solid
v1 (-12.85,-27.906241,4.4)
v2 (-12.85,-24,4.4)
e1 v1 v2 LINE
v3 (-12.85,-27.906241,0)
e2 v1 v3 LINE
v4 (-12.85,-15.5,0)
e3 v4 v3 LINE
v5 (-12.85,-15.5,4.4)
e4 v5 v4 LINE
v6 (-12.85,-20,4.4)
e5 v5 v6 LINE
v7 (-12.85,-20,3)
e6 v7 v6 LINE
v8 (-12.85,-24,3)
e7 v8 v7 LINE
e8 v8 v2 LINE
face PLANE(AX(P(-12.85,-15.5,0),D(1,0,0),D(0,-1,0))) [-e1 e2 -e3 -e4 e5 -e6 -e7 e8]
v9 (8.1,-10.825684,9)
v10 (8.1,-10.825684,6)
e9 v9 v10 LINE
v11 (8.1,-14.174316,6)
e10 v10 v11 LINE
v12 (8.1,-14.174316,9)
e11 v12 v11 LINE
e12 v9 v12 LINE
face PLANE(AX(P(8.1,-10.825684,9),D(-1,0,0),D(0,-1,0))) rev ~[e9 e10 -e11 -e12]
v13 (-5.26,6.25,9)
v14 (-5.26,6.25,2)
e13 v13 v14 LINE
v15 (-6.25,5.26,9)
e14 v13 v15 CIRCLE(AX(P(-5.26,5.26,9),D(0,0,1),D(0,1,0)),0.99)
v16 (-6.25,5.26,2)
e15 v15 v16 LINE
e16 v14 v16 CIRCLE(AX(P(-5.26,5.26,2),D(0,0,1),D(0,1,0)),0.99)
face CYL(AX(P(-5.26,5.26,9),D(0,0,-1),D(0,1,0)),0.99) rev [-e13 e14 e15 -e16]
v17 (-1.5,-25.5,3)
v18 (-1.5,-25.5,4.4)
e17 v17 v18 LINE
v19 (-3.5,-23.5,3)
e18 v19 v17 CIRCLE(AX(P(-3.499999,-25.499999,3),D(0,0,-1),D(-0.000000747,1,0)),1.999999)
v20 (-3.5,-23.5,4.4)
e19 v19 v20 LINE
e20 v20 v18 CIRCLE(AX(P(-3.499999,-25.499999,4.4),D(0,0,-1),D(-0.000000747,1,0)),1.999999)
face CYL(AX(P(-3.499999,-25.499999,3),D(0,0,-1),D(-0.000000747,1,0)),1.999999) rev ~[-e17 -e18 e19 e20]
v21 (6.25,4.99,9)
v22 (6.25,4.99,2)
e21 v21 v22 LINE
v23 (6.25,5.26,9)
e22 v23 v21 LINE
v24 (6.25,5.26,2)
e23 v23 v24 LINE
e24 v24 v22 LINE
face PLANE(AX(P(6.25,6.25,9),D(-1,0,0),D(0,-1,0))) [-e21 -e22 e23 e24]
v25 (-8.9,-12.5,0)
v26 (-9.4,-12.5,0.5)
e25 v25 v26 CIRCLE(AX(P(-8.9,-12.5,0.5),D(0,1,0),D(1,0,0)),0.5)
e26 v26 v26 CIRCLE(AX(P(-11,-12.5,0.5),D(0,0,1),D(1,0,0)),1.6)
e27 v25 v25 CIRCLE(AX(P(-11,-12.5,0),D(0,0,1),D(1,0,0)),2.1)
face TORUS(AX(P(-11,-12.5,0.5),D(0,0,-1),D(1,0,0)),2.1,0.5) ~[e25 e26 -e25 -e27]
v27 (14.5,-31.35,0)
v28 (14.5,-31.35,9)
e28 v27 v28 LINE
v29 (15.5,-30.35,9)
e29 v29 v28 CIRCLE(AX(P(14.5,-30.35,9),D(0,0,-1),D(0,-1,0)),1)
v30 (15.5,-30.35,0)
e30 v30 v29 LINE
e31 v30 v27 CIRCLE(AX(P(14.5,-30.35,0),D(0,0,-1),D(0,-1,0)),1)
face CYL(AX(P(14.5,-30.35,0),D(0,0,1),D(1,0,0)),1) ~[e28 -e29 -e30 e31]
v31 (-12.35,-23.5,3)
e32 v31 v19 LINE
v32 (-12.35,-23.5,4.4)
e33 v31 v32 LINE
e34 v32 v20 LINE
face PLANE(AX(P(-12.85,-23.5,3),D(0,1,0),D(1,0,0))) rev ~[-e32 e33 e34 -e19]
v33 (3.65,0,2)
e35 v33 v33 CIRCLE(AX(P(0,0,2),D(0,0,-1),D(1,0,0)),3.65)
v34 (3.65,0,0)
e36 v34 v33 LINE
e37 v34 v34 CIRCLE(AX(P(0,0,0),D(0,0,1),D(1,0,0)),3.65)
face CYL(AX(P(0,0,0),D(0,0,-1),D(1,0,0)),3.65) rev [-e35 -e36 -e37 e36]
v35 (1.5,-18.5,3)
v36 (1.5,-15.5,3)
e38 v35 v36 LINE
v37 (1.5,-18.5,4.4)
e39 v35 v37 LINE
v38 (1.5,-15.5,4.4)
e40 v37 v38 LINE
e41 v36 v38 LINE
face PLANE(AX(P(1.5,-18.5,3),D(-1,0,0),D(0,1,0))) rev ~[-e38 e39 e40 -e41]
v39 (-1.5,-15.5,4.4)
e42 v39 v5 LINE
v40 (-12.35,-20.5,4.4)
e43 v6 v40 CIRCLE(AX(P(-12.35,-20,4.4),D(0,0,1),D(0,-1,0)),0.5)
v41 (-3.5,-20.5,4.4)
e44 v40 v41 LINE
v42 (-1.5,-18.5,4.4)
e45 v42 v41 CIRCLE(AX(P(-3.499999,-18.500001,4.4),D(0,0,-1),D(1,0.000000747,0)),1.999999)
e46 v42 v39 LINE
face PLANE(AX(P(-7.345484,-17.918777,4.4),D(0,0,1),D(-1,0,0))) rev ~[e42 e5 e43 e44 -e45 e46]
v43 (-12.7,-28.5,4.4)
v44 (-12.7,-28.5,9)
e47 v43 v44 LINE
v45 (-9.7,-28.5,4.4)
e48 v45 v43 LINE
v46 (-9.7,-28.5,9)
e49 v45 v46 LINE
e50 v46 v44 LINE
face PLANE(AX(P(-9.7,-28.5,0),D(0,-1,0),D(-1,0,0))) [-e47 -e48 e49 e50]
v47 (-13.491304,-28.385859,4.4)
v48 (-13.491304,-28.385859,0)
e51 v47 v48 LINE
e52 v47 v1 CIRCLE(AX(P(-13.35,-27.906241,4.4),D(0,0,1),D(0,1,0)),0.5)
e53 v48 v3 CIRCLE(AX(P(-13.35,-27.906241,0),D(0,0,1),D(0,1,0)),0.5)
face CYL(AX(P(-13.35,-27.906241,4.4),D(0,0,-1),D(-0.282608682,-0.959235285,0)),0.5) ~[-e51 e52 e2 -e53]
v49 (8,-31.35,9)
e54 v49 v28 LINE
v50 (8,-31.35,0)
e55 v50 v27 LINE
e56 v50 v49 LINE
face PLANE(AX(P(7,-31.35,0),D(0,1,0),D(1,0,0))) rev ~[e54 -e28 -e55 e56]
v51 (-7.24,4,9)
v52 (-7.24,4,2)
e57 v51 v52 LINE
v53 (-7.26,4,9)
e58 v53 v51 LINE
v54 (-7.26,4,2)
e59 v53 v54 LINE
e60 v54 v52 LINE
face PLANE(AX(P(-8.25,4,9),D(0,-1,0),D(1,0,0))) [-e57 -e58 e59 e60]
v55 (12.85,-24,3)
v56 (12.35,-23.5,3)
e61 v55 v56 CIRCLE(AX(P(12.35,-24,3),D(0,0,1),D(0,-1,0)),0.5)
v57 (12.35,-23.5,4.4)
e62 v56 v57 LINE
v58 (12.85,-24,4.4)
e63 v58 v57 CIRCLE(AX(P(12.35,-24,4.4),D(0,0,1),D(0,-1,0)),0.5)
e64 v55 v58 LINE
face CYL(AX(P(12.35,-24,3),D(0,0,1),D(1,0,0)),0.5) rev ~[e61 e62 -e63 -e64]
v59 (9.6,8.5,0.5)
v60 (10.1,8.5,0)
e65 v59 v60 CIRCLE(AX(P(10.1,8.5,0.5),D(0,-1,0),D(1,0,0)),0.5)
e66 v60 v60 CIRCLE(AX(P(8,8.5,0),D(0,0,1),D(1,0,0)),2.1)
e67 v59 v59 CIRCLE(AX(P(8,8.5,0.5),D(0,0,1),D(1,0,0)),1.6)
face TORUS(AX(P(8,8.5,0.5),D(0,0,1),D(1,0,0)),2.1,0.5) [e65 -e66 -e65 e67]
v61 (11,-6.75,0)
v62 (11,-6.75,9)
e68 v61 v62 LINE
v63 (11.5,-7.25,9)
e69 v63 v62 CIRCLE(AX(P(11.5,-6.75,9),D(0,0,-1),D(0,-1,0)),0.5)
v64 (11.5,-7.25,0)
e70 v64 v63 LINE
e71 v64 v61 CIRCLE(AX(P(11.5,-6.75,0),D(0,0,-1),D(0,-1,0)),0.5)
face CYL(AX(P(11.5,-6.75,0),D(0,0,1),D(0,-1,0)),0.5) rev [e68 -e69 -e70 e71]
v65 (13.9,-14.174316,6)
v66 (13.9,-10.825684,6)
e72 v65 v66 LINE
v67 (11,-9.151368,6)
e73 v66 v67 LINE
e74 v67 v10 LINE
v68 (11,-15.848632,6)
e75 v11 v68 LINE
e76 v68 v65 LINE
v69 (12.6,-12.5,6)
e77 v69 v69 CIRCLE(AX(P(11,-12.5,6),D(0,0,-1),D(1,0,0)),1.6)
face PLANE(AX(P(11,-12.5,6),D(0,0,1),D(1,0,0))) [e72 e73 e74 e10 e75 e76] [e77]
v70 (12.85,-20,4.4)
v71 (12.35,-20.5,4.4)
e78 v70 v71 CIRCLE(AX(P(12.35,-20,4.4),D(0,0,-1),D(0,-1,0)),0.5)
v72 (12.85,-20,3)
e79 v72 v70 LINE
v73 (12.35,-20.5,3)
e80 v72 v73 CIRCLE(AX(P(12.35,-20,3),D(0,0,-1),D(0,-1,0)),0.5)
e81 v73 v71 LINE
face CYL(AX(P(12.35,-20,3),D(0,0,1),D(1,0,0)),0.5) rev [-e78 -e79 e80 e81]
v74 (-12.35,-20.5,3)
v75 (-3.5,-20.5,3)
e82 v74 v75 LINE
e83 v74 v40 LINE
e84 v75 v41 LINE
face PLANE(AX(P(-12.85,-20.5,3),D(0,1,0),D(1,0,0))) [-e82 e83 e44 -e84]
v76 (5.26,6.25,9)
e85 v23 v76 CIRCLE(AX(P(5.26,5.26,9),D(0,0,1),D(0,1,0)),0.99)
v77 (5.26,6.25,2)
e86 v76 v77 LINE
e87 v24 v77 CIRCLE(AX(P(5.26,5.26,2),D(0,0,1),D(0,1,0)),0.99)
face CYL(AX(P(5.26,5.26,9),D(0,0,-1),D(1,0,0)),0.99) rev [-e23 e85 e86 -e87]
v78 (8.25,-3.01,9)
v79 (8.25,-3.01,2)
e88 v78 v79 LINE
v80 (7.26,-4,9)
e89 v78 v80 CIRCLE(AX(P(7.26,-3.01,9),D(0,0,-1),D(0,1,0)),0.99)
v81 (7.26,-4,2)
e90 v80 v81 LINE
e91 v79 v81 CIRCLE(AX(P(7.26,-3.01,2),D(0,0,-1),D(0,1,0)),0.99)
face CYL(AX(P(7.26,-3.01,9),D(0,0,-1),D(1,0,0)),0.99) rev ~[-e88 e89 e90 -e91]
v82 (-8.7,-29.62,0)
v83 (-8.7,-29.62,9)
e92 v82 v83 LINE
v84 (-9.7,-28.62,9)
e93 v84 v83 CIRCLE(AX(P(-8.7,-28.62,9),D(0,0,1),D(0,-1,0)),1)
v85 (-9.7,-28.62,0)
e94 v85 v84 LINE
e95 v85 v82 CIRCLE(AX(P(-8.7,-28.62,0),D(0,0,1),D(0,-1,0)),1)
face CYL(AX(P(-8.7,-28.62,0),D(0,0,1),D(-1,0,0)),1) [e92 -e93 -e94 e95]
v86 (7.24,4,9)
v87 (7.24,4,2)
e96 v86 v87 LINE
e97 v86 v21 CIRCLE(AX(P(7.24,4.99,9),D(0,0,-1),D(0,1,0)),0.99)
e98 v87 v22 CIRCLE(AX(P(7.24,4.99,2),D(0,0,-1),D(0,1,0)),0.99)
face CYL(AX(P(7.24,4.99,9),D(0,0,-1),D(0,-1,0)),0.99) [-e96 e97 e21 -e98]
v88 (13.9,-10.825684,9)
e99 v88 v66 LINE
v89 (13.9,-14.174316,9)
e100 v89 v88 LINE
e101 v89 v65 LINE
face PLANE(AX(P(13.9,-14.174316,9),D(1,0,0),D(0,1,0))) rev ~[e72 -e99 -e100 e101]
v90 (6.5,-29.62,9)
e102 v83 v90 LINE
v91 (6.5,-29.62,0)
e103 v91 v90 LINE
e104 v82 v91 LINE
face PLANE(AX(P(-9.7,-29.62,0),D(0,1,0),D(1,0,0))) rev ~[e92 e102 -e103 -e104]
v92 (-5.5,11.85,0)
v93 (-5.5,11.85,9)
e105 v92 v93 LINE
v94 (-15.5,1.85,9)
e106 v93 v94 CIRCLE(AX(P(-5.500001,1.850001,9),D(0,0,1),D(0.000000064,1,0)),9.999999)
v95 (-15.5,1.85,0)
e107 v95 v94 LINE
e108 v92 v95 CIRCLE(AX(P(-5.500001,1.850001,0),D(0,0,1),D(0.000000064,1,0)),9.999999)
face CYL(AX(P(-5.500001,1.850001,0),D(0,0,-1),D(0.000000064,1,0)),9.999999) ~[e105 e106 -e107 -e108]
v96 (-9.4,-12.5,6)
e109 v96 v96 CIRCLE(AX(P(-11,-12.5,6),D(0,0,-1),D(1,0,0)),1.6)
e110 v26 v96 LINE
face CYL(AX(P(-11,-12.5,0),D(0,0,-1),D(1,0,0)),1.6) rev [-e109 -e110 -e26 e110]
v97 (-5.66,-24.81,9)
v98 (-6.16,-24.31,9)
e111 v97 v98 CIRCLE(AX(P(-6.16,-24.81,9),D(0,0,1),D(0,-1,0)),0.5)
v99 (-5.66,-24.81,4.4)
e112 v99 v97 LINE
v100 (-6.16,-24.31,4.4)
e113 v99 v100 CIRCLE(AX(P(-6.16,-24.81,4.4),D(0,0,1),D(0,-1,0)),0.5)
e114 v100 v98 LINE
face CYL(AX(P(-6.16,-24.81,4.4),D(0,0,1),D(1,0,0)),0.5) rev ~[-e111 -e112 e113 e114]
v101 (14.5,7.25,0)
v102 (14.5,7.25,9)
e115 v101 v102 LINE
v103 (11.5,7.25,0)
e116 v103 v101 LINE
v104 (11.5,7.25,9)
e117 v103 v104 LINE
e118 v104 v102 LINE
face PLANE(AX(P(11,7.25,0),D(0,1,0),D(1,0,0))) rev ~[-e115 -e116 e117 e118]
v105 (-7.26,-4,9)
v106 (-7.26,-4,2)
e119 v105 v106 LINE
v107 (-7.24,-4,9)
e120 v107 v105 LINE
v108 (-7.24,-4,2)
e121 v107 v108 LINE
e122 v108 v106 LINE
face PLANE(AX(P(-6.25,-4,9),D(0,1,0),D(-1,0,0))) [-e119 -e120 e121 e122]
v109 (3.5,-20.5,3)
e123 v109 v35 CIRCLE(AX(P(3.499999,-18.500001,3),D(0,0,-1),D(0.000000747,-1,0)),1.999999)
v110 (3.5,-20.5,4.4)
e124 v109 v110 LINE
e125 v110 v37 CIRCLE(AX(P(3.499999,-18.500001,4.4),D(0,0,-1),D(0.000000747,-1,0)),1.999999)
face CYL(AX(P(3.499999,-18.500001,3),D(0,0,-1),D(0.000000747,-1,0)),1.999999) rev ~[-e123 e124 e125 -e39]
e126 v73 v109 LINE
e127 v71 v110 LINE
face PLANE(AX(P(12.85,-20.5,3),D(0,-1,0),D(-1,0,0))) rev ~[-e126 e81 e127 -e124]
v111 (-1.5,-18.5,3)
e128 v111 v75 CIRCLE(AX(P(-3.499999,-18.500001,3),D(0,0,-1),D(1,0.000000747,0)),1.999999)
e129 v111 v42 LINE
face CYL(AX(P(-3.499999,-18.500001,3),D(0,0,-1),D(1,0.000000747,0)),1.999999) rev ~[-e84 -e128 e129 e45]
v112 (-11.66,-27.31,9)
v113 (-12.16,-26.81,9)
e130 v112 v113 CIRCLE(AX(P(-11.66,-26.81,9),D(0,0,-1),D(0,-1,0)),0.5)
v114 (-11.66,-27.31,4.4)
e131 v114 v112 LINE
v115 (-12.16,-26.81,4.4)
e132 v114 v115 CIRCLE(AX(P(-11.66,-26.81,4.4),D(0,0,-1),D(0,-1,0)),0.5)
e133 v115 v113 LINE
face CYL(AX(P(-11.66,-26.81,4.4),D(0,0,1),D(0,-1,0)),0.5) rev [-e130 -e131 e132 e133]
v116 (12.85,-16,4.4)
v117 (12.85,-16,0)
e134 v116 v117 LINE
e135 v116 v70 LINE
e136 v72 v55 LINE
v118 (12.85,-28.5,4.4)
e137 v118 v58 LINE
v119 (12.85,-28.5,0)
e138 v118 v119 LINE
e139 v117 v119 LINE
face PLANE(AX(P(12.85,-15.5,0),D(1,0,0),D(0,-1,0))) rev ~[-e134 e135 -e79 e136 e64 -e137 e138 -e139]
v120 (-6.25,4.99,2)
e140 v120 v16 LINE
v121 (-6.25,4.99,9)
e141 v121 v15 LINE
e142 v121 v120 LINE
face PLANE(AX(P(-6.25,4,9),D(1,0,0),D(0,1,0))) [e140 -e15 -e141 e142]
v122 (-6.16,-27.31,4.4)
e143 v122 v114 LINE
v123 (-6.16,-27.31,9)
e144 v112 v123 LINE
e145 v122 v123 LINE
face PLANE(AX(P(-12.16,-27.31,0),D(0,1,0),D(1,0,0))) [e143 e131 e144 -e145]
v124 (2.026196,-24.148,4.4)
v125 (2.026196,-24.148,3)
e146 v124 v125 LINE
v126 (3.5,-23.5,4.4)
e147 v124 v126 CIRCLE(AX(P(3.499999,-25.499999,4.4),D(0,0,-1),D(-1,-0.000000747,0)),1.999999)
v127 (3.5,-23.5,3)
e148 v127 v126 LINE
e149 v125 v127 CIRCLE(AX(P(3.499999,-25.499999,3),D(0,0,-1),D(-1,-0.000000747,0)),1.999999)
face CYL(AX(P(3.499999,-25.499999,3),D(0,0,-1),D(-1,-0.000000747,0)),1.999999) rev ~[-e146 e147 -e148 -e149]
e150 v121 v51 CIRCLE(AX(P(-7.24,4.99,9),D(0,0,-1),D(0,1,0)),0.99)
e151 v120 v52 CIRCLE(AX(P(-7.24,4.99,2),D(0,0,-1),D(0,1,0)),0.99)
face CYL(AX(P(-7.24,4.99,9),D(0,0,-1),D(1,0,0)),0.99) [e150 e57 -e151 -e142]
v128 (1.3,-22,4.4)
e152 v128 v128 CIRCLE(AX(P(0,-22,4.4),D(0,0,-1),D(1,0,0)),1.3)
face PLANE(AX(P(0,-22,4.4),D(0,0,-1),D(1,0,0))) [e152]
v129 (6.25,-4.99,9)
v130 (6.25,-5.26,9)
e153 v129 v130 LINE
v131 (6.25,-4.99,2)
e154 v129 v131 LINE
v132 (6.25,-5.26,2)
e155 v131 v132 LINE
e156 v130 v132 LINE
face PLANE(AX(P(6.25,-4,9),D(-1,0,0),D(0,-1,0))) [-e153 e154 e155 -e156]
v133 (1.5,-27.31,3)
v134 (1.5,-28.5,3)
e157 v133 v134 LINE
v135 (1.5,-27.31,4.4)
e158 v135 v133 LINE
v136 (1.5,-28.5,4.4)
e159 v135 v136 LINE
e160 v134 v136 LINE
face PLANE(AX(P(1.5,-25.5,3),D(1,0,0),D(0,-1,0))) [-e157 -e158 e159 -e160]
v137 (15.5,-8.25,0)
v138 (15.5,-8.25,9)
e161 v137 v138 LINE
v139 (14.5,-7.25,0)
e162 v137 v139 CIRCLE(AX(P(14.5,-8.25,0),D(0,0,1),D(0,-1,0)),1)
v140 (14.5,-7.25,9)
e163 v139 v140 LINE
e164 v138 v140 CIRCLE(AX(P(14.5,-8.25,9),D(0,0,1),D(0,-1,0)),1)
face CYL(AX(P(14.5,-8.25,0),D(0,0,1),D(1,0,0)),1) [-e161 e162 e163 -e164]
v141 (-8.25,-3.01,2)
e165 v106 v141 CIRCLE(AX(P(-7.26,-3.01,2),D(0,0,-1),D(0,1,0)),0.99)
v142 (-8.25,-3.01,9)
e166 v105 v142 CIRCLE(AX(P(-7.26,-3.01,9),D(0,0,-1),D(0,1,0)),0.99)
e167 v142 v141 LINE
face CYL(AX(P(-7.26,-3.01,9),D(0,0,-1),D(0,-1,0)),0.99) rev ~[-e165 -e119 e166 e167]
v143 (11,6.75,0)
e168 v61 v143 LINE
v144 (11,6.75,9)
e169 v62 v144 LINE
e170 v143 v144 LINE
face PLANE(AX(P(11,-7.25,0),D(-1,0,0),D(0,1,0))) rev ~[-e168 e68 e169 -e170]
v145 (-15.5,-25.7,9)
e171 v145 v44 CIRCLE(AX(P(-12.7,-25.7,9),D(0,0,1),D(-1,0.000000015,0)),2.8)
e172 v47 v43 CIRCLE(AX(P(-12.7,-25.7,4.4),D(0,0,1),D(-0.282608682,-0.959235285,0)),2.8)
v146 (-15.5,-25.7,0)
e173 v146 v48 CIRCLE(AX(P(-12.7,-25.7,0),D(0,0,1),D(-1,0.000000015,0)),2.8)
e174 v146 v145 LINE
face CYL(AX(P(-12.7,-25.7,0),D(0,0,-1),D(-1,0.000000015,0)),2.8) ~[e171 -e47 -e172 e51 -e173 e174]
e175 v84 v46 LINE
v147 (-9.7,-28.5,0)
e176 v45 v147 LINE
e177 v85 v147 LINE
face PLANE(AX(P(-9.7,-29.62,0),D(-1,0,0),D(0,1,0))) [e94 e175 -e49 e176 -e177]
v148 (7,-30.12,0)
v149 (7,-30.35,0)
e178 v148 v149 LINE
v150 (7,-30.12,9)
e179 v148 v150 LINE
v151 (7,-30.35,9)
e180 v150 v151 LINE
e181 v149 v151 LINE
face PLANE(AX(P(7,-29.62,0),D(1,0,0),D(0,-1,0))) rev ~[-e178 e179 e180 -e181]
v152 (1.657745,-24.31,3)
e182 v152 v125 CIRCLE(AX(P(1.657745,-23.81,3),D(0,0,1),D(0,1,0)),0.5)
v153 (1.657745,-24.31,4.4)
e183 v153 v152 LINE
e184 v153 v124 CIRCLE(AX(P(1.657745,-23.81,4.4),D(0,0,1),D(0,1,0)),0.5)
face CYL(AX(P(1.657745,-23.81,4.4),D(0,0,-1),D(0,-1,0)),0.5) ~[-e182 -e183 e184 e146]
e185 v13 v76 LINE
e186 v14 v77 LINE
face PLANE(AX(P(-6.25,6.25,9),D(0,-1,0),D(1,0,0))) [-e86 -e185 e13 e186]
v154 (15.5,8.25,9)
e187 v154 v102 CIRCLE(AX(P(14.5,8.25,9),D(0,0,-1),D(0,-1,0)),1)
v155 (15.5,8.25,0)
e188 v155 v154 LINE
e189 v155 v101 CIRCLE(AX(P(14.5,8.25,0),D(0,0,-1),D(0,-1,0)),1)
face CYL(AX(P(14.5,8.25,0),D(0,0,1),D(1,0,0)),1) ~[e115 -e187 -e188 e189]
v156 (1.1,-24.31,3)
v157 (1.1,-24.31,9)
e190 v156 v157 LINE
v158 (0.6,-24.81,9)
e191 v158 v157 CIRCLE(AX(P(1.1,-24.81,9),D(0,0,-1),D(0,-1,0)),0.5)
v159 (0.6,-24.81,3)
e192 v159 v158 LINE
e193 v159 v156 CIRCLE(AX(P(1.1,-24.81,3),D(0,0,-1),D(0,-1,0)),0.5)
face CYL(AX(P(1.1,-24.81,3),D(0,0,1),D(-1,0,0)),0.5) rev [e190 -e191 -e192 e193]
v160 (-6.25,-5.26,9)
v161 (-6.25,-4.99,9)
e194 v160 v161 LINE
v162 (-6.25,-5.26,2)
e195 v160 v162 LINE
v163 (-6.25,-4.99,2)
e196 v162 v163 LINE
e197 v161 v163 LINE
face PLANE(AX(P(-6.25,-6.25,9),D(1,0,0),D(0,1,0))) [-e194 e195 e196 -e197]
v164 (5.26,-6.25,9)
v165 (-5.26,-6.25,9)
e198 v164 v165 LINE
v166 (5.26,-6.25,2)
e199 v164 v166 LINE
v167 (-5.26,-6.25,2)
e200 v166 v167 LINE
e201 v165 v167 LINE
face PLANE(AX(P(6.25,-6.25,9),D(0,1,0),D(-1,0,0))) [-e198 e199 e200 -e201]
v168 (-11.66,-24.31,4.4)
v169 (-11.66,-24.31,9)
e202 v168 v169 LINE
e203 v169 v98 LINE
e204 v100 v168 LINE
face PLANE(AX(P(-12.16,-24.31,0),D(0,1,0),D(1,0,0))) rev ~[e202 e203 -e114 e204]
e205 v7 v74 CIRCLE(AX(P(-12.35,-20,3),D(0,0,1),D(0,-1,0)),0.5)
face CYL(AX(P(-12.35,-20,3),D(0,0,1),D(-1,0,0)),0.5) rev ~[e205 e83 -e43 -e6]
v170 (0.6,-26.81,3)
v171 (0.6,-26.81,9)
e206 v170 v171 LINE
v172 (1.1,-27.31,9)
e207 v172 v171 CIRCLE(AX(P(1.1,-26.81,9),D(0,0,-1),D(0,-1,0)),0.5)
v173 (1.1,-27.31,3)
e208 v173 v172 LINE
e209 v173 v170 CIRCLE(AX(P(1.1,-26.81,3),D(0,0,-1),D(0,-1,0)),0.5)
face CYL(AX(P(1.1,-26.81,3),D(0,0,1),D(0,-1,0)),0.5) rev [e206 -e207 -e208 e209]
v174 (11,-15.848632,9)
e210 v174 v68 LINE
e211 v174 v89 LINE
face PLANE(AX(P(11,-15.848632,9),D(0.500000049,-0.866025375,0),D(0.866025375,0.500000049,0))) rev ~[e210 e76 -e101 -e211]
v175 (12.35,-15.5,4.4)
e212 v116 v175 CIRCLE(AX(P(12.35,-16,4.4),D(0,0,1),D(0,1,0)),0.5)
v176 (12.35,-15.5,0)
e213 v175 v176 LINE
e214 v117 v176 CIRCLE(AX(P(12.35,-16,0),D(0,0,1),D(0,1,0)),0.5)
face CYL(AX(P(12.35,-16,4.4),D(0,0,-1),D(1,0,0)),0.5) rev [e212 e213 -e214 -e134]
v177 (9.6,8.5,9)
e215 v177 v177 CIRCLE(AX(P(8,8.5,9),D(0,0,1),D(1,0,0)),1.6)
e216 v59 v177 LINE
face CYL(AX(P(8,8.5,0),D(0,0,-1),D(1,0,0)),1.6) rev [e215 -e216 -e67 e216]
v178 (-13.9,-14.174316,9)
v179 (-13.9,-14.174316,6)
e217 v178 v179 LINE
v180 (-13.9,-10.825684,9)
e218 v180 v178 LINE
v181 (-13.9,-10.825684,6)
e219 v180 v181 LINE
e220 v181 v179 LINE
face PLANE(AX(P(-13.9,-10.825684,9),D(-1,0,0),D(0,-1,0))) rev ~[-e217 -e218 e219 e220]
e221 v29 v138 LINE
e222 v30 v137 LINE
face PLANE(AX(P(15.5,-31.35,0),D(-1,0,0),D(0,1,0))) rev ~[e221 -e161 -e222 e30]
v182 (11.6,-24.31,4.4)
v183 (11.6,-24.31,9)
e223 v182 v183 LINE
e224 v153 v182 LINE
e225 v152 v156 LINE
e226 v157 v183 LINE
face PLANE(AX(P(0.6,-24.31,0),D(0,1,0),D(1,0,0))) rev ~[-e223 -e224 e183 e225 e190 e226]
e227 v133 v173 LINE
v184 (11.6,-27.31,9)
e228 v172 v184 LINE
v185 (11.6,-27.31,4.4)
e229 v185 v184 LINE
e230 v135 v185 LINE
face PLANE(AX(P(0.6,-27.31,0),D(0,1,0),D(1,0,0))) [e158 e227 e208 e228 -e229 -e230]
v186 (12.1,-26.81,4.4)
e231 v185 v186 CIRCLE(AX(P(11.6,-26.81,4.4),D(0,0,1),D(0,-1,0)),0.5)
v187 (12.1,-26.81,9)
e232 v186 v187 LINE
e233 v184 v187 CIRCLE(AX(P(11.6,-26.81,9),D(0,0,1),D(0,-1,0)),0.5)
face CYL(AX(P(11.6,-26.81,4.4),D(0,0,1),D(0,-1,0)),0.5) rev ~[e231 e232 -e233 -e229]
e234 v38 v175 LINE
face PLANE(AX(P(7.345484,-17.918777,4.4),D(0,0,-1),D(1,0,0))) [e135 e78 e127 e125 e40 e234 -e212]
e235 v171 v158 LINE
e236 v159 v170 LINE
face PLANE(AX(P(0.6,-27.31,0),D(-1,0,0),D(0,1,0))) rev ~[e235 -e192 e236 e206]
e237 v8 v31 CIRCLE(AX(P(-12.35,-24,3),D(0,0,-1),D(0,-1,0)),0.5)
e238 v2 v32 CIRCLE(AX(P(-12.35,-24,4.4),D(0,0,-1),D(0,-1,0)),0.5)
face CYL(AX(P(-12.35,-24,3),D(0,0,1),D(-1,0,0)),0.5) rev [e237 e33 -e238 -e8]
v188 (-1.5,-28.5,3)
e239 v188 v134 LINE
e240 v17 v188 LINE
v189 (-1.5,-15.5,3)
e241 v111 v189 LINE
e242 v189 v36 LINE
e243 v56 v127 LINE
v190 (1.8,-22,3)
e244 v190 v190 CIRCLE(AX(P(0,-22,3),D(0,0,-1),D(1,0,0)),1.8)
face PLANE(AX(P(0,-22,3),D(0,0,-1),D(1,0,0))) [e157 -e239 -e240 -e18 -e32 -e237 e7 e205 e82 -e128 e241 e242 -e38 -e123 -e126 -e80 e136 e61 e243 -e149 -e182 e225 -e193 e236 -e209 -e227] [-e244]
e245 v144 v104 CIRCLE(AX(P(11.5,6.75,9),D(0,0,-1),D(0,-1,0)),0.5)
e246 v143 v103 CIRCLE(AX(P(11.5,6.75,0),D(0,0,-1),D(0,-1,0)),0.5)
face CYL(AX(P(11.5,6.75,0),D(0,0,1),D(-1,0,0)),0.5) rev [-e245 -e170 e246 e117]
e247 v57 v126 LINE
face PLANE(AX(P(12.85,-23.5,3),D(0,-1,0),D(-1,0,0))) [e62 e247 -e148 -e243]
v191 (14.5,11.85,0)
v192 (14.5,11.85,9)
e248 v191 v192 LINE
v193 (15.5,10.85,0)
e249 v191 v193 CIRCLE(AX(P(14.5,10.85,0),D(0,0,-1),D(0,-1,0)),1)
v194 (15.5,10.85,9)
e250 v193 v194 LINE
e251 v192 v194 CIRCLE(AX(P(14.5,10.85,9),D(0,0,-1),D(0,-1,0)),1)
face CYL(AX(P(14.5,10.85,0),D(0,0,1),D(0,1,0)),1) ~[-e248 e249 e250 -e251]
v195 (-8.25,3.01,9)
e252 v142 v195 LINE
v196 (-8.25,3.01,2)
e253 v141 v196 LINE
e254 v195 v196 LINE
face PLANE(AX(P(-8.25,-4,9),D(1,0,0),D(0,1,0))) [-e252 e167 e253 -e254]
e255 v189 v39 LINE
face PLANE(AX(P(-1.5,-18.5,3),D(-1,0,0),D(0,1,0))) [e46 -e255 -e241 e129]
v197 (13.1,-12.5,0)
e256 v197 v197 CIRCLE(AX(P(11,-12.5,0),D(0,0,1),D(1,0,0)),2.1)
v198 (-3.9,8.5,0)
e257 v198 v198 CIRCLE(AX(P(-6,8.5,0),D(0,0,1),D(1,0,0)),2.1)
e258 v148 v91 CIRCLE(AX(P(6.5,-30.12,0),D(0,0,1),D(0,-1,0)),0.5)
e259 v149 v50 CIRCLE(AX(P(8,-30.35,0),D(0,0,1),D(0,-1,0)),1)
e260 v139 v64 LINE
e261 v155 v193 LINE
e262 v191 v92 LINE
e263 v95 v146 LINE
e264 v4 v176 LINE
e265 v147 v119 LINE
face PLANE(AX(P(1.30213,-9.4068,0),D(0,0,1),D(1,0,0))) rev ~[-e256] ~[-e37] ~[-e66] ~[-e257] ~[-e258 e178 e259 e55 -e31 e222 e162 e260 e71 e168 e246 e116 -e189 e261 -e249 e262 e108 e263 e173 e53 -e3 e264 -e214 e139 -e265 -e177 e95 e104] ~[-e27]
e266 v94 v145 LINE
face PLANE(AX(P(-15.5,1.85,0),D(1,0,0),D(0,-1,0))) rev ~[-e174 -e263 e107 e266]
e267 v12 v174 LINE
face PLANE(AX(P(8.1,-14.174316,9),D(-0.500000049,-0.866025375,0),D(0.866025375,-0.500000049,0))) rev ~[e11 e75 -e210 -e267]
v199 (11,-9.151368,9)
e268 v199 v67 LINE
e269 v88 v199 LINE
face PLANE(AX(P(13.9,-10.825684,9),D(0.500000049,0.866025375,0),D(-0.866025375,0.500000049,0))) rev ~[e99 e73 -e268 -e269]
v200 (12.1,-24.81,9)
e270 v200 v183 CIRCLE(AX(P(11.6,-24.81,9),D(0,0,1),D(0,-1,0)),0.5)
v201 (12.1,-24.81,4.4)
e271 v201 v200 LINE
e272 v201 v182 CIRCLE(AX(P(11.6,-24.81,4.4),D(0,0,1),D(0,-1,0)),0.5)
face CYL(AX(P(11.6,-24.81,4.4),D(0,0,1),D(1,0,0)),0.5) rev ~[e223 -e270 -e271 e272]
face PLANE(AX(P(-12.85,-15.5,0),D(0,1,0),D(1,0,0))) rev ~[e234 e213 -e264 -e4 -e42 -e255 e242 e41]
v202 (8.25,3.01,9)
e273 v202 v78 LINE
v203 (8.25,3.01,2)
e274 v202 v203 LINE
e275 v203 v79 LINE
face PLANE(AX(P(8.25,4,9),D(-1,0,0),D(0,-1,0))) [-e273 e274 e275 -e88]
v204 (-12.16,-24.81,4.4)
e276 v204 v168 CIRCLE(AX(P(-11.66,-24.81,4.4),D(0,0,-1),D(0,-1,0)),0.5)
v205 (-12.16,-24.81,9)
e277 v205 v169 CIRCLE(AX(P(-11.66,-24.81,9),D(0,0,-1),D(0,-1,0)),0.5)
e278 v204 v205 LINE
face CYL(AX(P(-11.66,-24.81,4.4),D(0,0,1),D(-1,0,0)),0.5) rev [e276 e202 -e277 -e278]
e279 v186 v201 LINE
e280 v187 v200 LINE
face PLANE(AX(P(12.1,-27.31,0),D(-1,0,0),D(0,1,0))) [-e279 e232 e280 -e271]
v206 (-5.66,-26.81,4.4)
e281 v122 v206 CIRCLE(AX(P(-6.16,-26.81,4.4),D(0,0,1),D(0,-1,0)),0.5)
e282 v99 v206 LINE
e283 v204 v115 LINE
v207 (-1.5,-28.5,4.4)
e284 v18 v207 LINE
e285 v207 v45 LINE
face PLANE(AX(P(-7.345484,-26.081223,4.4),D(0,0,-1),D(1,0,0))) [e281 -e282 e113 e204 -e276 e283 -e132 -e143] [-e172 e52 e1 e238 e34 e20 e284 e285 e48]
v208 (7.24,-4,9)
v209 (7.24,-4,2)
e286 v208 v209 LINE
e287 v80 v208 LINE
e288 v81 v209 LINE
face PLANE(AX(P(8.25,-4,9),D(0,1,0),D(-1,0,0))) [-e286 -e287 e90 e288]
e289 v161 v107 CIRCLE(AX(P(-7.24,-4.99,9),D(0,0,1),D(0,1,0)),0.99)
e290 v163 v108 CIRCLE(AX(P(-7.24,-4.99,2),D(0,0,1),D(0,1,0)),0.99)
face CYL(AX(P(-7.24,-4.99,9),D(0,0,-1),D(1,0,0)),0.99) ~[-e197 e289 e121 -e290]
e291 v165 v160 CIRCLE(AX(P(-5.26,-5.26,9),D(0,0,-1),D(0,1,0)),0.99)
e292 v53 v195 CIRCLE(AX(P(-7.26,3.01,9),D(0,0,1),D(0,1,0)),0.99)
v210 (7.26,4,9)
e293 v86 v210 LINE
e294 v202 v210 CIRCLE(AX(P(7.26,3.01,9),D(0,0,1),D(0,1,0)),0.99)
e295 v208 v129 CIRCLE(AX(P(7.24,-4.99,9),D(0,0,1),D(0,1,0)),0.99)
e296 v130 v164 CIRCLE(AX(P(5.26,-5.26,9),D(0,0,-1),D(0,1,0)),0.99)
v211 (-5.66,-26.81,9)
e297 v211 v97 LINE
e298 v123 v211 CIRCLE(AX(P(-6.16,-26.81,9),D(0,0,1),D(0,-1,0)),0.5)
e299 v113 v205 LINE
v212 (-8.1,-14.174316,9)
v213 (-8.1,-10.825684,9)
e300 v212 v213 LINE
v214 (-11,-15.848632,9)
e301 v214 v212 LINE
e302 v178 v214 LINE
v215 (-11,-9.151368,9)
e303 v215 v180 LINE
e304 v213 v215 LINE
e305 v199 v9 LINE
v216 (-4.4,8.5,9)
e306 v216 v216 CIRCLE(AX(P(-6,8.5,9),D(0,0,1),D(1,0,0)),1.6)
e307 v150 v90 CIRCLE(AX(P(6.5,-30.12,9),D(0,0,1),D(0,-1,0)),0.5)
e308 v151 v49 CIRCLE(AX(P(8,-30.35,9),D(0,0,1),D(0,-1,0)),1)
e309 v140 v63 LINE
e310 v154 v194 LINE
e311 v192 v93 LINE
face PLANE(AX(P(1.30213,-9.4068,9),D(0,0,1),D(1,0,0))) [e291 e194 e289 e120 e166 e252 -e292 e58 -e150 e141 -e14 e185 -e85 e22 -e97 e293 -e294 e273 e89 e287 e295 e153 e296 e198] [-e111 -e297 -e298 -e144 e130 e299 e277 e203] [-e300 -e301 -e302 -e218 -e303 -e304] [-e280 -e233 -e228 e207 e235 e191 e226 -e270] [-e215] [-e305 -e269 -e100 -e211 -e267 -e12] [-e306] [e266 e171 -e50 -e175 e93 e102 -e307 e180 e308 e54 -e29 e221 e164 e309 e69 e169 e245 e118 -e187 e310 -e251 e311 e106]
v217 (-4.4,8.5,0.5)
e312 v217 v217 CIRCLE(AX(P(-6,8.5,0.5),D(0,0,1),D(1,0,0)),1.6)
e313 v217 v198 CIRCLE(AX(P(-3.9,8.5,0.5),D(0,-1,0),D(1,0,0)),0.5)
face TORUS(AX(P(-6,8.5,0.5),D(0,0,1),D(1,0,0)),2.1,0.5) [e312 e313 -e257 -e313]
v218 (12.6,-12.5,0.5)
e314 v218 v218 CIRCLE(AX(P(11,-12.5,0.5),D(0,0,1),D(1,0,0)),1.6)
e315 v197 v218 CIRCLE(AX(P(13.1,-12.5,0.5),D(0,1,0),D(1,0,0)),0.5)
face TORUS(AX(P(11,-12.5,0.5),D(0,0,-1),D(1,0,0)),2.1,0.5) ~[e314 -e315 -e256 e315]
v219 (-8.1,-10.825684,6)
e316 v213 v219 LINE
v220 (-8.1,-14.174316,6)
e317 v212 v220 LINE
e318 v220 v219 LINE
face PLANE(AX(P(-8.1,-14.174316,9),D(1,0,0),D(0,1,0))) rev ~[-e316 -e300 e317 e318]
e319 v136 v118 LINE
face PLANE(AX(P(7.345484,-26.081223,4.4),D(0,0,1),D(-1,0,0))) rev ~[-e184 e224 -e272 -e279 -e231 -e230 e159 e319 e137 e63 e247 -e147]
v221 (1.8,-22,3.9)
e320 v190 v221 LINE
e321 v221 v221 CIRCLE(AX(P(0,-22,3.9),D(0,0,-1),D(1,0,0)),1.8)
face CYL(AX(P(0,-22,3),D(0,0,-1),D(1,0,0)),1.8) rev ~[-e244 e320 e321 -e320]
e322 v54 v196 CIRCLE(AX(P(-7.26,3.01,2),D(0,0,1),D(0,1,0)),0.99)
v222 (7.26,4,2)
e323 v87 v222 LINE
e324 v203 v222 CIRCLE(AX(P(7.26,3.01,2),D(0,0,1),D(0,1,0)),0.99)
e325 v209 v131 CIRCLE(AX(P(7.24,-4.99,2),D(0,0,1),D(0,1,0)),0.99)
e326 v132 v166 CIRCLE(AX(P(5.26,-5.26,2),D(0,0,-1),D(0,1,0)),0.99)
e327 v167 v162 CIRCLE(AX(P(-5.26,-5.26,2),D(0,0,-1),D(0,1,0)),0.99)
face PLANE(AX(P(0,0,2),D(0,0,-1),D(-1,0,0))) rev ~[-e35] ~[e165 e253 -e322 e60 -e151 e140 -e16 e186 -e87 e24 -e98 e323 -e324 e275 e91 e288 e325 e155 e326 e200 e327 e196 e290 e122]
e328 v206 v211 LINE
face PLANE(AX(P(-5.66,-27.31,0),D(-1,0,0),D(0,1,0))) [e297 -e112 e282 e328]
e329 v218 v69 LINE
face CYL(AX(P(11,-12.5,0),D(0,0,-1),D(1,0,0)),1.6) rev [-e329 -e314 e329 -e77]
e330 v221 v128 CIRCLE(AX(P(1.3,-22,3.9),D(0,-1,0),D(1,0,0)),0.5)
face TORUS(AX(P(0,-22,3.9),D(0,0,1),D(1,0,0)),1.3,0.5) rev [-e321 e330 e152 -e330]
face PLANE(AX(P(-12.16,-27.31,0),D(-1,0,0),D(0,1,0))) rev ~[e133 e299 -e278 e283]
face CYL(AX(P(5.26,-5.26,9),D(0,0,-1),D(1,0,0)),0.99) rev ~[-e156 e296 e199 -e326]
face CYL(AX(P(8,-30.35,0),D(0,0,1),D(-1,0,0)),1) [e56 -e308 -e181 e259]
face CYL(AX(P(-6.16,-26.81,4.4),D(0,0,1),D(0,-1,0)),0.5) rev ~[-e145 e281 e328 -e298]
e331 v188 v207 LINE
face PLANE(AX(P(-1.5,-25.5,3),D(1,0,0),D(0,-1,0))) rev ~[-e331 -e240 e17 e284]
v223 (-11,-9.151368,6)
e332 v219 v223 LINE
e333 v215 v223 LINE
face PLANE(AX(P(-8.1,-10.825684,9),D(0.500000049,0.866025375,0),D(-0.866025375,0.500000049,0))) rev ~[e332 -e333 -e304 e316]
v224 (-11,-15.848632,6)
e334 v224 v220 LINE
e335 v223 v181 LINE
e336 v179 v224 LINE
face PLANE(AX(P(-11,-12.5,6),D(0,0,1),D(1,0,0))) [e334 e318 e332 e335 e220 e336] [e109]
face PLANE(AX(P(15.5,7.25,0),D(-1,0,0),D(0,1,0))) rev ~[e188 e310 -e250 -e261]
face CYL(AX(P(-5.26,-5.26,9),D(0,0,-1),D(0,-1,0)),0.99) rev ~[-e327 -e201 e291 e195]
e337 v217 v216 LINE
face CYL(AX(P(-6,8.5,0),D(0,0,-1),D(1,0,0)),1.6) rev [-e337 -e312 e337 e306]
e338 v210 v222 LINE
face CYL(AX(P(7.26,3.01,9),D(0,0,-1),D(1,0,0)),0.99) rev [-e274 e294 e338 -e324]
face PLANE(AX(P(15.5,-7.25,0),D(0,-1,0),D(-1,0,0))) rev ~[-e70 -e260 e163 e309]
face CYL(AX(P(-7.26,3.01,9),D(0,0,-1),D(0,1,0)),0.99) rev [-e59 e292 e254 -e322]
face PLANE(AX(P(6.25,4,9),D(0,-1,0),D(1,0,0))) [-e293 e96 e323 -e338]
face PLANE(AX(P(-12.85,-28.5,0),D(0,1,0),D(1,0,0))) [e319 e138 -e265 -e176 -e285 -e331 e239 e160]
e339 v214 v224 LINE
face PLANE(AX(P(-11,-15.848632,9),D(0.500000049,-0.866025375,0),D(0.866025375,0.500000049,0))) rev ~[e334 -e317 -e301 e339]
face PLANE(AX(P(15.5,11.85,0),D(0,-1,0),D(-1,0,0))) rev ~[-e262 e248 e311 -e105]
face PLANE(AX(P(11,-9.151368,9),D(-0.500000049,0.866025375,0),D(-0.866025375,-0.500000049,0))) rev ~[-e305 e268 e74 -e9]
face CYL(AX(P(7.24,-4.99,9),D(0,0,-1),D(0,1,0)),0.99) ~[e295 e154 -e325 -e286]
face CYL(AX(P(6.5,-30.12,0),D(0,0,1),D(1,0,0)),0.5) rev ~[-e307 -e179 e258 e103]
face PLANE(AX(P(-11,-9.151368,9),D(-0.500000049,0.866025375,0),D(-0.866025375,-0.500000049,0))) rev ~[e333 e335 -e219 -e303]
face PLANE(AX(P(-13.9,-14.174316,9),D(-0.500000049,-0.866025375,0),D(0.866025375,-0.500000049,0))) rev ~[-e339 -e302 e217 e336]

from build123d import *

# Parameters (mm, degrees)
SKETCH_R        = 3.65
SKETCH_R_2      = 1.6
SKETCH_W        = 6.5
SKETCH_H        = 3
SKETCH_W_2      = 11.5
PAD_DEPTH       = 9
POCKET_DEPTH    = 7
POCKET001_DEPTH = 3
SKETCH003_W     = 25.7
SKETCH003_H     = 13
POCKET002_DEPTH = 3
SKETCH004_R     = 1.8
POCKET003_DEPTH = 1.4
FILLET_R        = 1
FILLET001_R     = 0.99
FILLET002_R     = 0.5


with BuildPart() as part:
    # Sketch → Pad (new body)
    with BuildSketch(Plane.XY):
        with BuildLine():
            Line((15.5, -31.35), (15.5, -7.25))
            Line((15.5, -7.25), (11, -7.25))
            Line((11, -7.25), (11, 7.25))
            Line((11, 7.25), (15.5, 7.25))
            Line((15.5, 7.25), (15.5, 11.85))
            Line((15.5, 11.85), (-5.5, 11.85))
            ThreePointArc((-5.5, 11.85), (-12.571068, 8.921068), (-15.5, 1.85))
            Line((-15.5, 1.85), (-15.5, -25.7))
            ThreePointArc((-15.5, -25.7), (-14.679899, -27.679899), (-12.7, -28.5))
            Line((-9.7, -28.5), (-12.7, -28.5))
            Line((-9.7, -29.62), (-9.7, -28.5))
            Line((-9.7, -29.62), (7, -29.62))
            Line((7, -29.62), (7, -31.35))
            Line((7, -31.35), (15.5, -31.35))
        make_face()
        Circle(SKETCH_R, mode=Mode.SUBTRACT)
        with Locations((-11, -12.5)):
            Circle(SKETCH_R_2, mode=Mode.SUBTRACT)
        with Locations((11, -12.5)):
            Circle(SKETCH_R_2, mode=Mode.SUBTRACT)
        with Locations((-6, 8.5)):
            Circle(SKETCH_R_2, mode=Mode.SUBTRACT)
        with Locations((8, 8.5)):
            Circle(SKETCH_R_2, mode=Mode.SUBTRACT)
        with Locations((-8.91, -25.81)):
            Rectangle(SKETCH_W, SKETCH_H, mode=Mode.SUBTRACT)
        with Locations((6.35, -25.81)):
            Rectangle(SKETCH_W_2, SKETCH_H, mode=Mode.SUBTRACT)
    extrude(amount=PAD_DEPTH)

    # Sketch002 (on Face29 of Pad) → Pocket (cut)
    with BuildSketch(Plane.XY.offset(9)):
        Polygon((8.25, -4), (6.25, -4), (6.25, -6.25), (-6.25, -6.25), (-6.25, -4), (-8.25, -4), (-8.25, 4), (-6.25, 4), (-6.25, 6.25), (6.25, 6.25), (6.25, 4), (8.25, 4), align=None)
    extrude(amount=-POCKET_DEPTH, mode=Mode.SUBTRACT)

    # Sketch001 (on Face5 of Pocket) → Pocket001 (cut)
    with BuildSketch(Plane.XY.offset(9)):
        Polygon((-8.1, -14.174316), (-8.1, -10.825684), (-11, -9.151368), (-13.9, -10.825684), (-13.9, -14.174316), (-11, -15.848632), align=None)
        Polygon((13.9, -14.174316), (13.9, -10.825684), (11, -9.151368), (8.1, -10.825684), (8.1, -14.174316), (11, -15.848632), align=None)
    extrude(amount=-POCKET001_DEPTH, mode=Mode.SUBTRACT)

    # Sketch003 (on Face4 of Pocket001) → Pocket002 (cut)
    with BuildSketch(Plane(origin=(0, 0, 0), x_dir=(1, 0, 0), z_dir=(0, 0, -1))):
        with Locations((0, 22)):
            Rectangle(SKETCH003_W, SKETCH003_H)
    extrude(amount=-POCKET002_DEPTH, mode=Mode.SUBTRACT)

    # Sketch004 (on Face58 of Pocket002) → Pocket003 (cut)
    with BuildSketch(Plane(origin=(0, 0, 3), x_dir=(1, 0, 0), z_dir=(0, 0, -1))):
        with Locations((0, 22)):
            Circle(SKETCH004_R)
        with BuildLine():
            Line((1.5, 15.5), (12.85, 15.5))
            Line((12.85, 15.5), (12.85, 20.5))
            Line((12.85, 20.5), (3.5, 20.5))
            ThreePointArc((3.5, 20.5), (2.085786, 19.914214), (1.5, 18.5))
            Line((1.5, 18.5), (1.5, 15.5))
        make_face()
        with BuildLine():
            Line((-1.5, 15.5), (-12.85, 15.5))
            Line((-12.85, 15.5), (-12.85, 20.5))
            Line((-12.85, 20.5), (-3.5, 20.5))
            ThreePointArc((-1.5, 18.5), (-2.085786, 19.914214), (-3.5, 20.5))
            Line((-1.5, 18.5), (-1.5, 15.5))
        make_face()
        with BuildLine():
            Line((12.85, 23.5), (3.5, 23.5))
            ThreePointArc((1.5, 25.5), (2.085786, 24.085786), (3.5, 23.5))
            Line((1.5, 25.5), (1.5, 28.5))
            Line((1.5, 28.5), (12.85, 28.5))
            Line((12.85, 28.5), (12.85, 23.5))
        make_face()
        with BuildLine():
            Line((-12.85, 23.5), (-3.5, 23.5))
            ThreePointArc((-3.5, 23.5), (-2.085786, 24.085786), (-1.5, 25.5))
            Line((-1.5, 25.5), (-1.5, 28.5))
            Line((-1.5, 28.5), (-12.85, 28.5))
            Line((-12.85, 28.5), (-12.85, 23.5))
        make_face()
    extrude(amount=-POCKET003_DEPTH, mode=Mode.SUBTRACT)

    # Fillet
    fillet_edges = [part.edges().sort_by_distance(p)[0] for p in [
        (15.5, -31.35, 4.5),
        (7, -31.35, 4.5),
        (-9.7, -29.62, 4.5),
        (15.5, -7.25, 4.5),
        (15.5, 7.25, 4.5),
        (15.5, 11.85, 4.5),
    ]]
    fillet(fillet_edges, radius=FILLET_R)

    # Fillet001
    fillet001_edges = [part.edges().sort_by_distance(p)[0] for p in [
        (-8.25, 4, 5.5),
        (-6.25, 4, 5.5),
        (-6.25, 6.25, 5.5),
        (6.25, 4, 5.5),
        (-6.25, -4, 5.5),
        (-8.25, -4, 5.5),
        (-6.25, -6.25, 5.5),
        (8.25, -4, 5.5),
        (6.25, -4, 5.5),
        (6.25, -6.25, 5.5),
        (8.25, 4, 5.5),
        (6.25, 6.25, 5.5),
    ]]
    fillet(fillet001_edges, radius=FILLET001_R)

    # Fillet002
    fillet002_edges = [part.edges().sort_by_distance(p)[0] for p in [
        (11, 7.25, 4.5),
        (11, -7.25, 4.5),
        (7, -29.62, 4.5),
        (12.85, -20.5, 3.7),
        (-1.8, -22, 4.4),
        (12.85, -23.5, 3.7),
        (1.892549, -24.31, 3.7),
        (-12.85, -20.5, 3.7),
        (-12.85, -23.5, 3.7),
        (-12.16, -24.31, 6.7),
        (0.6, -24.31, 6),
        (12.1, -27.31, 6.7),
        (-5.66, -27.31, 6.7),
        (12.1, -24.31, 6.7),
        (-5.66, -24.31, 6.7),
        (12.85, -15.5, 3.7),
        (12.85, -15.5, 1.5),
        (-12.16, -27.31, 6.7),
        (0.6, -27.31, 6),
        (9.4, -12.5, 0),
        (-12.6, -12.5, 0),
        (6.4, 8.5, 0),
        (-7.6, 8.5, 0),
        (-12.85, -28.495979, 1.5),
    ]]
    fillet(fillet002_edges, radius=FILLET002_R)


solid = part.part
